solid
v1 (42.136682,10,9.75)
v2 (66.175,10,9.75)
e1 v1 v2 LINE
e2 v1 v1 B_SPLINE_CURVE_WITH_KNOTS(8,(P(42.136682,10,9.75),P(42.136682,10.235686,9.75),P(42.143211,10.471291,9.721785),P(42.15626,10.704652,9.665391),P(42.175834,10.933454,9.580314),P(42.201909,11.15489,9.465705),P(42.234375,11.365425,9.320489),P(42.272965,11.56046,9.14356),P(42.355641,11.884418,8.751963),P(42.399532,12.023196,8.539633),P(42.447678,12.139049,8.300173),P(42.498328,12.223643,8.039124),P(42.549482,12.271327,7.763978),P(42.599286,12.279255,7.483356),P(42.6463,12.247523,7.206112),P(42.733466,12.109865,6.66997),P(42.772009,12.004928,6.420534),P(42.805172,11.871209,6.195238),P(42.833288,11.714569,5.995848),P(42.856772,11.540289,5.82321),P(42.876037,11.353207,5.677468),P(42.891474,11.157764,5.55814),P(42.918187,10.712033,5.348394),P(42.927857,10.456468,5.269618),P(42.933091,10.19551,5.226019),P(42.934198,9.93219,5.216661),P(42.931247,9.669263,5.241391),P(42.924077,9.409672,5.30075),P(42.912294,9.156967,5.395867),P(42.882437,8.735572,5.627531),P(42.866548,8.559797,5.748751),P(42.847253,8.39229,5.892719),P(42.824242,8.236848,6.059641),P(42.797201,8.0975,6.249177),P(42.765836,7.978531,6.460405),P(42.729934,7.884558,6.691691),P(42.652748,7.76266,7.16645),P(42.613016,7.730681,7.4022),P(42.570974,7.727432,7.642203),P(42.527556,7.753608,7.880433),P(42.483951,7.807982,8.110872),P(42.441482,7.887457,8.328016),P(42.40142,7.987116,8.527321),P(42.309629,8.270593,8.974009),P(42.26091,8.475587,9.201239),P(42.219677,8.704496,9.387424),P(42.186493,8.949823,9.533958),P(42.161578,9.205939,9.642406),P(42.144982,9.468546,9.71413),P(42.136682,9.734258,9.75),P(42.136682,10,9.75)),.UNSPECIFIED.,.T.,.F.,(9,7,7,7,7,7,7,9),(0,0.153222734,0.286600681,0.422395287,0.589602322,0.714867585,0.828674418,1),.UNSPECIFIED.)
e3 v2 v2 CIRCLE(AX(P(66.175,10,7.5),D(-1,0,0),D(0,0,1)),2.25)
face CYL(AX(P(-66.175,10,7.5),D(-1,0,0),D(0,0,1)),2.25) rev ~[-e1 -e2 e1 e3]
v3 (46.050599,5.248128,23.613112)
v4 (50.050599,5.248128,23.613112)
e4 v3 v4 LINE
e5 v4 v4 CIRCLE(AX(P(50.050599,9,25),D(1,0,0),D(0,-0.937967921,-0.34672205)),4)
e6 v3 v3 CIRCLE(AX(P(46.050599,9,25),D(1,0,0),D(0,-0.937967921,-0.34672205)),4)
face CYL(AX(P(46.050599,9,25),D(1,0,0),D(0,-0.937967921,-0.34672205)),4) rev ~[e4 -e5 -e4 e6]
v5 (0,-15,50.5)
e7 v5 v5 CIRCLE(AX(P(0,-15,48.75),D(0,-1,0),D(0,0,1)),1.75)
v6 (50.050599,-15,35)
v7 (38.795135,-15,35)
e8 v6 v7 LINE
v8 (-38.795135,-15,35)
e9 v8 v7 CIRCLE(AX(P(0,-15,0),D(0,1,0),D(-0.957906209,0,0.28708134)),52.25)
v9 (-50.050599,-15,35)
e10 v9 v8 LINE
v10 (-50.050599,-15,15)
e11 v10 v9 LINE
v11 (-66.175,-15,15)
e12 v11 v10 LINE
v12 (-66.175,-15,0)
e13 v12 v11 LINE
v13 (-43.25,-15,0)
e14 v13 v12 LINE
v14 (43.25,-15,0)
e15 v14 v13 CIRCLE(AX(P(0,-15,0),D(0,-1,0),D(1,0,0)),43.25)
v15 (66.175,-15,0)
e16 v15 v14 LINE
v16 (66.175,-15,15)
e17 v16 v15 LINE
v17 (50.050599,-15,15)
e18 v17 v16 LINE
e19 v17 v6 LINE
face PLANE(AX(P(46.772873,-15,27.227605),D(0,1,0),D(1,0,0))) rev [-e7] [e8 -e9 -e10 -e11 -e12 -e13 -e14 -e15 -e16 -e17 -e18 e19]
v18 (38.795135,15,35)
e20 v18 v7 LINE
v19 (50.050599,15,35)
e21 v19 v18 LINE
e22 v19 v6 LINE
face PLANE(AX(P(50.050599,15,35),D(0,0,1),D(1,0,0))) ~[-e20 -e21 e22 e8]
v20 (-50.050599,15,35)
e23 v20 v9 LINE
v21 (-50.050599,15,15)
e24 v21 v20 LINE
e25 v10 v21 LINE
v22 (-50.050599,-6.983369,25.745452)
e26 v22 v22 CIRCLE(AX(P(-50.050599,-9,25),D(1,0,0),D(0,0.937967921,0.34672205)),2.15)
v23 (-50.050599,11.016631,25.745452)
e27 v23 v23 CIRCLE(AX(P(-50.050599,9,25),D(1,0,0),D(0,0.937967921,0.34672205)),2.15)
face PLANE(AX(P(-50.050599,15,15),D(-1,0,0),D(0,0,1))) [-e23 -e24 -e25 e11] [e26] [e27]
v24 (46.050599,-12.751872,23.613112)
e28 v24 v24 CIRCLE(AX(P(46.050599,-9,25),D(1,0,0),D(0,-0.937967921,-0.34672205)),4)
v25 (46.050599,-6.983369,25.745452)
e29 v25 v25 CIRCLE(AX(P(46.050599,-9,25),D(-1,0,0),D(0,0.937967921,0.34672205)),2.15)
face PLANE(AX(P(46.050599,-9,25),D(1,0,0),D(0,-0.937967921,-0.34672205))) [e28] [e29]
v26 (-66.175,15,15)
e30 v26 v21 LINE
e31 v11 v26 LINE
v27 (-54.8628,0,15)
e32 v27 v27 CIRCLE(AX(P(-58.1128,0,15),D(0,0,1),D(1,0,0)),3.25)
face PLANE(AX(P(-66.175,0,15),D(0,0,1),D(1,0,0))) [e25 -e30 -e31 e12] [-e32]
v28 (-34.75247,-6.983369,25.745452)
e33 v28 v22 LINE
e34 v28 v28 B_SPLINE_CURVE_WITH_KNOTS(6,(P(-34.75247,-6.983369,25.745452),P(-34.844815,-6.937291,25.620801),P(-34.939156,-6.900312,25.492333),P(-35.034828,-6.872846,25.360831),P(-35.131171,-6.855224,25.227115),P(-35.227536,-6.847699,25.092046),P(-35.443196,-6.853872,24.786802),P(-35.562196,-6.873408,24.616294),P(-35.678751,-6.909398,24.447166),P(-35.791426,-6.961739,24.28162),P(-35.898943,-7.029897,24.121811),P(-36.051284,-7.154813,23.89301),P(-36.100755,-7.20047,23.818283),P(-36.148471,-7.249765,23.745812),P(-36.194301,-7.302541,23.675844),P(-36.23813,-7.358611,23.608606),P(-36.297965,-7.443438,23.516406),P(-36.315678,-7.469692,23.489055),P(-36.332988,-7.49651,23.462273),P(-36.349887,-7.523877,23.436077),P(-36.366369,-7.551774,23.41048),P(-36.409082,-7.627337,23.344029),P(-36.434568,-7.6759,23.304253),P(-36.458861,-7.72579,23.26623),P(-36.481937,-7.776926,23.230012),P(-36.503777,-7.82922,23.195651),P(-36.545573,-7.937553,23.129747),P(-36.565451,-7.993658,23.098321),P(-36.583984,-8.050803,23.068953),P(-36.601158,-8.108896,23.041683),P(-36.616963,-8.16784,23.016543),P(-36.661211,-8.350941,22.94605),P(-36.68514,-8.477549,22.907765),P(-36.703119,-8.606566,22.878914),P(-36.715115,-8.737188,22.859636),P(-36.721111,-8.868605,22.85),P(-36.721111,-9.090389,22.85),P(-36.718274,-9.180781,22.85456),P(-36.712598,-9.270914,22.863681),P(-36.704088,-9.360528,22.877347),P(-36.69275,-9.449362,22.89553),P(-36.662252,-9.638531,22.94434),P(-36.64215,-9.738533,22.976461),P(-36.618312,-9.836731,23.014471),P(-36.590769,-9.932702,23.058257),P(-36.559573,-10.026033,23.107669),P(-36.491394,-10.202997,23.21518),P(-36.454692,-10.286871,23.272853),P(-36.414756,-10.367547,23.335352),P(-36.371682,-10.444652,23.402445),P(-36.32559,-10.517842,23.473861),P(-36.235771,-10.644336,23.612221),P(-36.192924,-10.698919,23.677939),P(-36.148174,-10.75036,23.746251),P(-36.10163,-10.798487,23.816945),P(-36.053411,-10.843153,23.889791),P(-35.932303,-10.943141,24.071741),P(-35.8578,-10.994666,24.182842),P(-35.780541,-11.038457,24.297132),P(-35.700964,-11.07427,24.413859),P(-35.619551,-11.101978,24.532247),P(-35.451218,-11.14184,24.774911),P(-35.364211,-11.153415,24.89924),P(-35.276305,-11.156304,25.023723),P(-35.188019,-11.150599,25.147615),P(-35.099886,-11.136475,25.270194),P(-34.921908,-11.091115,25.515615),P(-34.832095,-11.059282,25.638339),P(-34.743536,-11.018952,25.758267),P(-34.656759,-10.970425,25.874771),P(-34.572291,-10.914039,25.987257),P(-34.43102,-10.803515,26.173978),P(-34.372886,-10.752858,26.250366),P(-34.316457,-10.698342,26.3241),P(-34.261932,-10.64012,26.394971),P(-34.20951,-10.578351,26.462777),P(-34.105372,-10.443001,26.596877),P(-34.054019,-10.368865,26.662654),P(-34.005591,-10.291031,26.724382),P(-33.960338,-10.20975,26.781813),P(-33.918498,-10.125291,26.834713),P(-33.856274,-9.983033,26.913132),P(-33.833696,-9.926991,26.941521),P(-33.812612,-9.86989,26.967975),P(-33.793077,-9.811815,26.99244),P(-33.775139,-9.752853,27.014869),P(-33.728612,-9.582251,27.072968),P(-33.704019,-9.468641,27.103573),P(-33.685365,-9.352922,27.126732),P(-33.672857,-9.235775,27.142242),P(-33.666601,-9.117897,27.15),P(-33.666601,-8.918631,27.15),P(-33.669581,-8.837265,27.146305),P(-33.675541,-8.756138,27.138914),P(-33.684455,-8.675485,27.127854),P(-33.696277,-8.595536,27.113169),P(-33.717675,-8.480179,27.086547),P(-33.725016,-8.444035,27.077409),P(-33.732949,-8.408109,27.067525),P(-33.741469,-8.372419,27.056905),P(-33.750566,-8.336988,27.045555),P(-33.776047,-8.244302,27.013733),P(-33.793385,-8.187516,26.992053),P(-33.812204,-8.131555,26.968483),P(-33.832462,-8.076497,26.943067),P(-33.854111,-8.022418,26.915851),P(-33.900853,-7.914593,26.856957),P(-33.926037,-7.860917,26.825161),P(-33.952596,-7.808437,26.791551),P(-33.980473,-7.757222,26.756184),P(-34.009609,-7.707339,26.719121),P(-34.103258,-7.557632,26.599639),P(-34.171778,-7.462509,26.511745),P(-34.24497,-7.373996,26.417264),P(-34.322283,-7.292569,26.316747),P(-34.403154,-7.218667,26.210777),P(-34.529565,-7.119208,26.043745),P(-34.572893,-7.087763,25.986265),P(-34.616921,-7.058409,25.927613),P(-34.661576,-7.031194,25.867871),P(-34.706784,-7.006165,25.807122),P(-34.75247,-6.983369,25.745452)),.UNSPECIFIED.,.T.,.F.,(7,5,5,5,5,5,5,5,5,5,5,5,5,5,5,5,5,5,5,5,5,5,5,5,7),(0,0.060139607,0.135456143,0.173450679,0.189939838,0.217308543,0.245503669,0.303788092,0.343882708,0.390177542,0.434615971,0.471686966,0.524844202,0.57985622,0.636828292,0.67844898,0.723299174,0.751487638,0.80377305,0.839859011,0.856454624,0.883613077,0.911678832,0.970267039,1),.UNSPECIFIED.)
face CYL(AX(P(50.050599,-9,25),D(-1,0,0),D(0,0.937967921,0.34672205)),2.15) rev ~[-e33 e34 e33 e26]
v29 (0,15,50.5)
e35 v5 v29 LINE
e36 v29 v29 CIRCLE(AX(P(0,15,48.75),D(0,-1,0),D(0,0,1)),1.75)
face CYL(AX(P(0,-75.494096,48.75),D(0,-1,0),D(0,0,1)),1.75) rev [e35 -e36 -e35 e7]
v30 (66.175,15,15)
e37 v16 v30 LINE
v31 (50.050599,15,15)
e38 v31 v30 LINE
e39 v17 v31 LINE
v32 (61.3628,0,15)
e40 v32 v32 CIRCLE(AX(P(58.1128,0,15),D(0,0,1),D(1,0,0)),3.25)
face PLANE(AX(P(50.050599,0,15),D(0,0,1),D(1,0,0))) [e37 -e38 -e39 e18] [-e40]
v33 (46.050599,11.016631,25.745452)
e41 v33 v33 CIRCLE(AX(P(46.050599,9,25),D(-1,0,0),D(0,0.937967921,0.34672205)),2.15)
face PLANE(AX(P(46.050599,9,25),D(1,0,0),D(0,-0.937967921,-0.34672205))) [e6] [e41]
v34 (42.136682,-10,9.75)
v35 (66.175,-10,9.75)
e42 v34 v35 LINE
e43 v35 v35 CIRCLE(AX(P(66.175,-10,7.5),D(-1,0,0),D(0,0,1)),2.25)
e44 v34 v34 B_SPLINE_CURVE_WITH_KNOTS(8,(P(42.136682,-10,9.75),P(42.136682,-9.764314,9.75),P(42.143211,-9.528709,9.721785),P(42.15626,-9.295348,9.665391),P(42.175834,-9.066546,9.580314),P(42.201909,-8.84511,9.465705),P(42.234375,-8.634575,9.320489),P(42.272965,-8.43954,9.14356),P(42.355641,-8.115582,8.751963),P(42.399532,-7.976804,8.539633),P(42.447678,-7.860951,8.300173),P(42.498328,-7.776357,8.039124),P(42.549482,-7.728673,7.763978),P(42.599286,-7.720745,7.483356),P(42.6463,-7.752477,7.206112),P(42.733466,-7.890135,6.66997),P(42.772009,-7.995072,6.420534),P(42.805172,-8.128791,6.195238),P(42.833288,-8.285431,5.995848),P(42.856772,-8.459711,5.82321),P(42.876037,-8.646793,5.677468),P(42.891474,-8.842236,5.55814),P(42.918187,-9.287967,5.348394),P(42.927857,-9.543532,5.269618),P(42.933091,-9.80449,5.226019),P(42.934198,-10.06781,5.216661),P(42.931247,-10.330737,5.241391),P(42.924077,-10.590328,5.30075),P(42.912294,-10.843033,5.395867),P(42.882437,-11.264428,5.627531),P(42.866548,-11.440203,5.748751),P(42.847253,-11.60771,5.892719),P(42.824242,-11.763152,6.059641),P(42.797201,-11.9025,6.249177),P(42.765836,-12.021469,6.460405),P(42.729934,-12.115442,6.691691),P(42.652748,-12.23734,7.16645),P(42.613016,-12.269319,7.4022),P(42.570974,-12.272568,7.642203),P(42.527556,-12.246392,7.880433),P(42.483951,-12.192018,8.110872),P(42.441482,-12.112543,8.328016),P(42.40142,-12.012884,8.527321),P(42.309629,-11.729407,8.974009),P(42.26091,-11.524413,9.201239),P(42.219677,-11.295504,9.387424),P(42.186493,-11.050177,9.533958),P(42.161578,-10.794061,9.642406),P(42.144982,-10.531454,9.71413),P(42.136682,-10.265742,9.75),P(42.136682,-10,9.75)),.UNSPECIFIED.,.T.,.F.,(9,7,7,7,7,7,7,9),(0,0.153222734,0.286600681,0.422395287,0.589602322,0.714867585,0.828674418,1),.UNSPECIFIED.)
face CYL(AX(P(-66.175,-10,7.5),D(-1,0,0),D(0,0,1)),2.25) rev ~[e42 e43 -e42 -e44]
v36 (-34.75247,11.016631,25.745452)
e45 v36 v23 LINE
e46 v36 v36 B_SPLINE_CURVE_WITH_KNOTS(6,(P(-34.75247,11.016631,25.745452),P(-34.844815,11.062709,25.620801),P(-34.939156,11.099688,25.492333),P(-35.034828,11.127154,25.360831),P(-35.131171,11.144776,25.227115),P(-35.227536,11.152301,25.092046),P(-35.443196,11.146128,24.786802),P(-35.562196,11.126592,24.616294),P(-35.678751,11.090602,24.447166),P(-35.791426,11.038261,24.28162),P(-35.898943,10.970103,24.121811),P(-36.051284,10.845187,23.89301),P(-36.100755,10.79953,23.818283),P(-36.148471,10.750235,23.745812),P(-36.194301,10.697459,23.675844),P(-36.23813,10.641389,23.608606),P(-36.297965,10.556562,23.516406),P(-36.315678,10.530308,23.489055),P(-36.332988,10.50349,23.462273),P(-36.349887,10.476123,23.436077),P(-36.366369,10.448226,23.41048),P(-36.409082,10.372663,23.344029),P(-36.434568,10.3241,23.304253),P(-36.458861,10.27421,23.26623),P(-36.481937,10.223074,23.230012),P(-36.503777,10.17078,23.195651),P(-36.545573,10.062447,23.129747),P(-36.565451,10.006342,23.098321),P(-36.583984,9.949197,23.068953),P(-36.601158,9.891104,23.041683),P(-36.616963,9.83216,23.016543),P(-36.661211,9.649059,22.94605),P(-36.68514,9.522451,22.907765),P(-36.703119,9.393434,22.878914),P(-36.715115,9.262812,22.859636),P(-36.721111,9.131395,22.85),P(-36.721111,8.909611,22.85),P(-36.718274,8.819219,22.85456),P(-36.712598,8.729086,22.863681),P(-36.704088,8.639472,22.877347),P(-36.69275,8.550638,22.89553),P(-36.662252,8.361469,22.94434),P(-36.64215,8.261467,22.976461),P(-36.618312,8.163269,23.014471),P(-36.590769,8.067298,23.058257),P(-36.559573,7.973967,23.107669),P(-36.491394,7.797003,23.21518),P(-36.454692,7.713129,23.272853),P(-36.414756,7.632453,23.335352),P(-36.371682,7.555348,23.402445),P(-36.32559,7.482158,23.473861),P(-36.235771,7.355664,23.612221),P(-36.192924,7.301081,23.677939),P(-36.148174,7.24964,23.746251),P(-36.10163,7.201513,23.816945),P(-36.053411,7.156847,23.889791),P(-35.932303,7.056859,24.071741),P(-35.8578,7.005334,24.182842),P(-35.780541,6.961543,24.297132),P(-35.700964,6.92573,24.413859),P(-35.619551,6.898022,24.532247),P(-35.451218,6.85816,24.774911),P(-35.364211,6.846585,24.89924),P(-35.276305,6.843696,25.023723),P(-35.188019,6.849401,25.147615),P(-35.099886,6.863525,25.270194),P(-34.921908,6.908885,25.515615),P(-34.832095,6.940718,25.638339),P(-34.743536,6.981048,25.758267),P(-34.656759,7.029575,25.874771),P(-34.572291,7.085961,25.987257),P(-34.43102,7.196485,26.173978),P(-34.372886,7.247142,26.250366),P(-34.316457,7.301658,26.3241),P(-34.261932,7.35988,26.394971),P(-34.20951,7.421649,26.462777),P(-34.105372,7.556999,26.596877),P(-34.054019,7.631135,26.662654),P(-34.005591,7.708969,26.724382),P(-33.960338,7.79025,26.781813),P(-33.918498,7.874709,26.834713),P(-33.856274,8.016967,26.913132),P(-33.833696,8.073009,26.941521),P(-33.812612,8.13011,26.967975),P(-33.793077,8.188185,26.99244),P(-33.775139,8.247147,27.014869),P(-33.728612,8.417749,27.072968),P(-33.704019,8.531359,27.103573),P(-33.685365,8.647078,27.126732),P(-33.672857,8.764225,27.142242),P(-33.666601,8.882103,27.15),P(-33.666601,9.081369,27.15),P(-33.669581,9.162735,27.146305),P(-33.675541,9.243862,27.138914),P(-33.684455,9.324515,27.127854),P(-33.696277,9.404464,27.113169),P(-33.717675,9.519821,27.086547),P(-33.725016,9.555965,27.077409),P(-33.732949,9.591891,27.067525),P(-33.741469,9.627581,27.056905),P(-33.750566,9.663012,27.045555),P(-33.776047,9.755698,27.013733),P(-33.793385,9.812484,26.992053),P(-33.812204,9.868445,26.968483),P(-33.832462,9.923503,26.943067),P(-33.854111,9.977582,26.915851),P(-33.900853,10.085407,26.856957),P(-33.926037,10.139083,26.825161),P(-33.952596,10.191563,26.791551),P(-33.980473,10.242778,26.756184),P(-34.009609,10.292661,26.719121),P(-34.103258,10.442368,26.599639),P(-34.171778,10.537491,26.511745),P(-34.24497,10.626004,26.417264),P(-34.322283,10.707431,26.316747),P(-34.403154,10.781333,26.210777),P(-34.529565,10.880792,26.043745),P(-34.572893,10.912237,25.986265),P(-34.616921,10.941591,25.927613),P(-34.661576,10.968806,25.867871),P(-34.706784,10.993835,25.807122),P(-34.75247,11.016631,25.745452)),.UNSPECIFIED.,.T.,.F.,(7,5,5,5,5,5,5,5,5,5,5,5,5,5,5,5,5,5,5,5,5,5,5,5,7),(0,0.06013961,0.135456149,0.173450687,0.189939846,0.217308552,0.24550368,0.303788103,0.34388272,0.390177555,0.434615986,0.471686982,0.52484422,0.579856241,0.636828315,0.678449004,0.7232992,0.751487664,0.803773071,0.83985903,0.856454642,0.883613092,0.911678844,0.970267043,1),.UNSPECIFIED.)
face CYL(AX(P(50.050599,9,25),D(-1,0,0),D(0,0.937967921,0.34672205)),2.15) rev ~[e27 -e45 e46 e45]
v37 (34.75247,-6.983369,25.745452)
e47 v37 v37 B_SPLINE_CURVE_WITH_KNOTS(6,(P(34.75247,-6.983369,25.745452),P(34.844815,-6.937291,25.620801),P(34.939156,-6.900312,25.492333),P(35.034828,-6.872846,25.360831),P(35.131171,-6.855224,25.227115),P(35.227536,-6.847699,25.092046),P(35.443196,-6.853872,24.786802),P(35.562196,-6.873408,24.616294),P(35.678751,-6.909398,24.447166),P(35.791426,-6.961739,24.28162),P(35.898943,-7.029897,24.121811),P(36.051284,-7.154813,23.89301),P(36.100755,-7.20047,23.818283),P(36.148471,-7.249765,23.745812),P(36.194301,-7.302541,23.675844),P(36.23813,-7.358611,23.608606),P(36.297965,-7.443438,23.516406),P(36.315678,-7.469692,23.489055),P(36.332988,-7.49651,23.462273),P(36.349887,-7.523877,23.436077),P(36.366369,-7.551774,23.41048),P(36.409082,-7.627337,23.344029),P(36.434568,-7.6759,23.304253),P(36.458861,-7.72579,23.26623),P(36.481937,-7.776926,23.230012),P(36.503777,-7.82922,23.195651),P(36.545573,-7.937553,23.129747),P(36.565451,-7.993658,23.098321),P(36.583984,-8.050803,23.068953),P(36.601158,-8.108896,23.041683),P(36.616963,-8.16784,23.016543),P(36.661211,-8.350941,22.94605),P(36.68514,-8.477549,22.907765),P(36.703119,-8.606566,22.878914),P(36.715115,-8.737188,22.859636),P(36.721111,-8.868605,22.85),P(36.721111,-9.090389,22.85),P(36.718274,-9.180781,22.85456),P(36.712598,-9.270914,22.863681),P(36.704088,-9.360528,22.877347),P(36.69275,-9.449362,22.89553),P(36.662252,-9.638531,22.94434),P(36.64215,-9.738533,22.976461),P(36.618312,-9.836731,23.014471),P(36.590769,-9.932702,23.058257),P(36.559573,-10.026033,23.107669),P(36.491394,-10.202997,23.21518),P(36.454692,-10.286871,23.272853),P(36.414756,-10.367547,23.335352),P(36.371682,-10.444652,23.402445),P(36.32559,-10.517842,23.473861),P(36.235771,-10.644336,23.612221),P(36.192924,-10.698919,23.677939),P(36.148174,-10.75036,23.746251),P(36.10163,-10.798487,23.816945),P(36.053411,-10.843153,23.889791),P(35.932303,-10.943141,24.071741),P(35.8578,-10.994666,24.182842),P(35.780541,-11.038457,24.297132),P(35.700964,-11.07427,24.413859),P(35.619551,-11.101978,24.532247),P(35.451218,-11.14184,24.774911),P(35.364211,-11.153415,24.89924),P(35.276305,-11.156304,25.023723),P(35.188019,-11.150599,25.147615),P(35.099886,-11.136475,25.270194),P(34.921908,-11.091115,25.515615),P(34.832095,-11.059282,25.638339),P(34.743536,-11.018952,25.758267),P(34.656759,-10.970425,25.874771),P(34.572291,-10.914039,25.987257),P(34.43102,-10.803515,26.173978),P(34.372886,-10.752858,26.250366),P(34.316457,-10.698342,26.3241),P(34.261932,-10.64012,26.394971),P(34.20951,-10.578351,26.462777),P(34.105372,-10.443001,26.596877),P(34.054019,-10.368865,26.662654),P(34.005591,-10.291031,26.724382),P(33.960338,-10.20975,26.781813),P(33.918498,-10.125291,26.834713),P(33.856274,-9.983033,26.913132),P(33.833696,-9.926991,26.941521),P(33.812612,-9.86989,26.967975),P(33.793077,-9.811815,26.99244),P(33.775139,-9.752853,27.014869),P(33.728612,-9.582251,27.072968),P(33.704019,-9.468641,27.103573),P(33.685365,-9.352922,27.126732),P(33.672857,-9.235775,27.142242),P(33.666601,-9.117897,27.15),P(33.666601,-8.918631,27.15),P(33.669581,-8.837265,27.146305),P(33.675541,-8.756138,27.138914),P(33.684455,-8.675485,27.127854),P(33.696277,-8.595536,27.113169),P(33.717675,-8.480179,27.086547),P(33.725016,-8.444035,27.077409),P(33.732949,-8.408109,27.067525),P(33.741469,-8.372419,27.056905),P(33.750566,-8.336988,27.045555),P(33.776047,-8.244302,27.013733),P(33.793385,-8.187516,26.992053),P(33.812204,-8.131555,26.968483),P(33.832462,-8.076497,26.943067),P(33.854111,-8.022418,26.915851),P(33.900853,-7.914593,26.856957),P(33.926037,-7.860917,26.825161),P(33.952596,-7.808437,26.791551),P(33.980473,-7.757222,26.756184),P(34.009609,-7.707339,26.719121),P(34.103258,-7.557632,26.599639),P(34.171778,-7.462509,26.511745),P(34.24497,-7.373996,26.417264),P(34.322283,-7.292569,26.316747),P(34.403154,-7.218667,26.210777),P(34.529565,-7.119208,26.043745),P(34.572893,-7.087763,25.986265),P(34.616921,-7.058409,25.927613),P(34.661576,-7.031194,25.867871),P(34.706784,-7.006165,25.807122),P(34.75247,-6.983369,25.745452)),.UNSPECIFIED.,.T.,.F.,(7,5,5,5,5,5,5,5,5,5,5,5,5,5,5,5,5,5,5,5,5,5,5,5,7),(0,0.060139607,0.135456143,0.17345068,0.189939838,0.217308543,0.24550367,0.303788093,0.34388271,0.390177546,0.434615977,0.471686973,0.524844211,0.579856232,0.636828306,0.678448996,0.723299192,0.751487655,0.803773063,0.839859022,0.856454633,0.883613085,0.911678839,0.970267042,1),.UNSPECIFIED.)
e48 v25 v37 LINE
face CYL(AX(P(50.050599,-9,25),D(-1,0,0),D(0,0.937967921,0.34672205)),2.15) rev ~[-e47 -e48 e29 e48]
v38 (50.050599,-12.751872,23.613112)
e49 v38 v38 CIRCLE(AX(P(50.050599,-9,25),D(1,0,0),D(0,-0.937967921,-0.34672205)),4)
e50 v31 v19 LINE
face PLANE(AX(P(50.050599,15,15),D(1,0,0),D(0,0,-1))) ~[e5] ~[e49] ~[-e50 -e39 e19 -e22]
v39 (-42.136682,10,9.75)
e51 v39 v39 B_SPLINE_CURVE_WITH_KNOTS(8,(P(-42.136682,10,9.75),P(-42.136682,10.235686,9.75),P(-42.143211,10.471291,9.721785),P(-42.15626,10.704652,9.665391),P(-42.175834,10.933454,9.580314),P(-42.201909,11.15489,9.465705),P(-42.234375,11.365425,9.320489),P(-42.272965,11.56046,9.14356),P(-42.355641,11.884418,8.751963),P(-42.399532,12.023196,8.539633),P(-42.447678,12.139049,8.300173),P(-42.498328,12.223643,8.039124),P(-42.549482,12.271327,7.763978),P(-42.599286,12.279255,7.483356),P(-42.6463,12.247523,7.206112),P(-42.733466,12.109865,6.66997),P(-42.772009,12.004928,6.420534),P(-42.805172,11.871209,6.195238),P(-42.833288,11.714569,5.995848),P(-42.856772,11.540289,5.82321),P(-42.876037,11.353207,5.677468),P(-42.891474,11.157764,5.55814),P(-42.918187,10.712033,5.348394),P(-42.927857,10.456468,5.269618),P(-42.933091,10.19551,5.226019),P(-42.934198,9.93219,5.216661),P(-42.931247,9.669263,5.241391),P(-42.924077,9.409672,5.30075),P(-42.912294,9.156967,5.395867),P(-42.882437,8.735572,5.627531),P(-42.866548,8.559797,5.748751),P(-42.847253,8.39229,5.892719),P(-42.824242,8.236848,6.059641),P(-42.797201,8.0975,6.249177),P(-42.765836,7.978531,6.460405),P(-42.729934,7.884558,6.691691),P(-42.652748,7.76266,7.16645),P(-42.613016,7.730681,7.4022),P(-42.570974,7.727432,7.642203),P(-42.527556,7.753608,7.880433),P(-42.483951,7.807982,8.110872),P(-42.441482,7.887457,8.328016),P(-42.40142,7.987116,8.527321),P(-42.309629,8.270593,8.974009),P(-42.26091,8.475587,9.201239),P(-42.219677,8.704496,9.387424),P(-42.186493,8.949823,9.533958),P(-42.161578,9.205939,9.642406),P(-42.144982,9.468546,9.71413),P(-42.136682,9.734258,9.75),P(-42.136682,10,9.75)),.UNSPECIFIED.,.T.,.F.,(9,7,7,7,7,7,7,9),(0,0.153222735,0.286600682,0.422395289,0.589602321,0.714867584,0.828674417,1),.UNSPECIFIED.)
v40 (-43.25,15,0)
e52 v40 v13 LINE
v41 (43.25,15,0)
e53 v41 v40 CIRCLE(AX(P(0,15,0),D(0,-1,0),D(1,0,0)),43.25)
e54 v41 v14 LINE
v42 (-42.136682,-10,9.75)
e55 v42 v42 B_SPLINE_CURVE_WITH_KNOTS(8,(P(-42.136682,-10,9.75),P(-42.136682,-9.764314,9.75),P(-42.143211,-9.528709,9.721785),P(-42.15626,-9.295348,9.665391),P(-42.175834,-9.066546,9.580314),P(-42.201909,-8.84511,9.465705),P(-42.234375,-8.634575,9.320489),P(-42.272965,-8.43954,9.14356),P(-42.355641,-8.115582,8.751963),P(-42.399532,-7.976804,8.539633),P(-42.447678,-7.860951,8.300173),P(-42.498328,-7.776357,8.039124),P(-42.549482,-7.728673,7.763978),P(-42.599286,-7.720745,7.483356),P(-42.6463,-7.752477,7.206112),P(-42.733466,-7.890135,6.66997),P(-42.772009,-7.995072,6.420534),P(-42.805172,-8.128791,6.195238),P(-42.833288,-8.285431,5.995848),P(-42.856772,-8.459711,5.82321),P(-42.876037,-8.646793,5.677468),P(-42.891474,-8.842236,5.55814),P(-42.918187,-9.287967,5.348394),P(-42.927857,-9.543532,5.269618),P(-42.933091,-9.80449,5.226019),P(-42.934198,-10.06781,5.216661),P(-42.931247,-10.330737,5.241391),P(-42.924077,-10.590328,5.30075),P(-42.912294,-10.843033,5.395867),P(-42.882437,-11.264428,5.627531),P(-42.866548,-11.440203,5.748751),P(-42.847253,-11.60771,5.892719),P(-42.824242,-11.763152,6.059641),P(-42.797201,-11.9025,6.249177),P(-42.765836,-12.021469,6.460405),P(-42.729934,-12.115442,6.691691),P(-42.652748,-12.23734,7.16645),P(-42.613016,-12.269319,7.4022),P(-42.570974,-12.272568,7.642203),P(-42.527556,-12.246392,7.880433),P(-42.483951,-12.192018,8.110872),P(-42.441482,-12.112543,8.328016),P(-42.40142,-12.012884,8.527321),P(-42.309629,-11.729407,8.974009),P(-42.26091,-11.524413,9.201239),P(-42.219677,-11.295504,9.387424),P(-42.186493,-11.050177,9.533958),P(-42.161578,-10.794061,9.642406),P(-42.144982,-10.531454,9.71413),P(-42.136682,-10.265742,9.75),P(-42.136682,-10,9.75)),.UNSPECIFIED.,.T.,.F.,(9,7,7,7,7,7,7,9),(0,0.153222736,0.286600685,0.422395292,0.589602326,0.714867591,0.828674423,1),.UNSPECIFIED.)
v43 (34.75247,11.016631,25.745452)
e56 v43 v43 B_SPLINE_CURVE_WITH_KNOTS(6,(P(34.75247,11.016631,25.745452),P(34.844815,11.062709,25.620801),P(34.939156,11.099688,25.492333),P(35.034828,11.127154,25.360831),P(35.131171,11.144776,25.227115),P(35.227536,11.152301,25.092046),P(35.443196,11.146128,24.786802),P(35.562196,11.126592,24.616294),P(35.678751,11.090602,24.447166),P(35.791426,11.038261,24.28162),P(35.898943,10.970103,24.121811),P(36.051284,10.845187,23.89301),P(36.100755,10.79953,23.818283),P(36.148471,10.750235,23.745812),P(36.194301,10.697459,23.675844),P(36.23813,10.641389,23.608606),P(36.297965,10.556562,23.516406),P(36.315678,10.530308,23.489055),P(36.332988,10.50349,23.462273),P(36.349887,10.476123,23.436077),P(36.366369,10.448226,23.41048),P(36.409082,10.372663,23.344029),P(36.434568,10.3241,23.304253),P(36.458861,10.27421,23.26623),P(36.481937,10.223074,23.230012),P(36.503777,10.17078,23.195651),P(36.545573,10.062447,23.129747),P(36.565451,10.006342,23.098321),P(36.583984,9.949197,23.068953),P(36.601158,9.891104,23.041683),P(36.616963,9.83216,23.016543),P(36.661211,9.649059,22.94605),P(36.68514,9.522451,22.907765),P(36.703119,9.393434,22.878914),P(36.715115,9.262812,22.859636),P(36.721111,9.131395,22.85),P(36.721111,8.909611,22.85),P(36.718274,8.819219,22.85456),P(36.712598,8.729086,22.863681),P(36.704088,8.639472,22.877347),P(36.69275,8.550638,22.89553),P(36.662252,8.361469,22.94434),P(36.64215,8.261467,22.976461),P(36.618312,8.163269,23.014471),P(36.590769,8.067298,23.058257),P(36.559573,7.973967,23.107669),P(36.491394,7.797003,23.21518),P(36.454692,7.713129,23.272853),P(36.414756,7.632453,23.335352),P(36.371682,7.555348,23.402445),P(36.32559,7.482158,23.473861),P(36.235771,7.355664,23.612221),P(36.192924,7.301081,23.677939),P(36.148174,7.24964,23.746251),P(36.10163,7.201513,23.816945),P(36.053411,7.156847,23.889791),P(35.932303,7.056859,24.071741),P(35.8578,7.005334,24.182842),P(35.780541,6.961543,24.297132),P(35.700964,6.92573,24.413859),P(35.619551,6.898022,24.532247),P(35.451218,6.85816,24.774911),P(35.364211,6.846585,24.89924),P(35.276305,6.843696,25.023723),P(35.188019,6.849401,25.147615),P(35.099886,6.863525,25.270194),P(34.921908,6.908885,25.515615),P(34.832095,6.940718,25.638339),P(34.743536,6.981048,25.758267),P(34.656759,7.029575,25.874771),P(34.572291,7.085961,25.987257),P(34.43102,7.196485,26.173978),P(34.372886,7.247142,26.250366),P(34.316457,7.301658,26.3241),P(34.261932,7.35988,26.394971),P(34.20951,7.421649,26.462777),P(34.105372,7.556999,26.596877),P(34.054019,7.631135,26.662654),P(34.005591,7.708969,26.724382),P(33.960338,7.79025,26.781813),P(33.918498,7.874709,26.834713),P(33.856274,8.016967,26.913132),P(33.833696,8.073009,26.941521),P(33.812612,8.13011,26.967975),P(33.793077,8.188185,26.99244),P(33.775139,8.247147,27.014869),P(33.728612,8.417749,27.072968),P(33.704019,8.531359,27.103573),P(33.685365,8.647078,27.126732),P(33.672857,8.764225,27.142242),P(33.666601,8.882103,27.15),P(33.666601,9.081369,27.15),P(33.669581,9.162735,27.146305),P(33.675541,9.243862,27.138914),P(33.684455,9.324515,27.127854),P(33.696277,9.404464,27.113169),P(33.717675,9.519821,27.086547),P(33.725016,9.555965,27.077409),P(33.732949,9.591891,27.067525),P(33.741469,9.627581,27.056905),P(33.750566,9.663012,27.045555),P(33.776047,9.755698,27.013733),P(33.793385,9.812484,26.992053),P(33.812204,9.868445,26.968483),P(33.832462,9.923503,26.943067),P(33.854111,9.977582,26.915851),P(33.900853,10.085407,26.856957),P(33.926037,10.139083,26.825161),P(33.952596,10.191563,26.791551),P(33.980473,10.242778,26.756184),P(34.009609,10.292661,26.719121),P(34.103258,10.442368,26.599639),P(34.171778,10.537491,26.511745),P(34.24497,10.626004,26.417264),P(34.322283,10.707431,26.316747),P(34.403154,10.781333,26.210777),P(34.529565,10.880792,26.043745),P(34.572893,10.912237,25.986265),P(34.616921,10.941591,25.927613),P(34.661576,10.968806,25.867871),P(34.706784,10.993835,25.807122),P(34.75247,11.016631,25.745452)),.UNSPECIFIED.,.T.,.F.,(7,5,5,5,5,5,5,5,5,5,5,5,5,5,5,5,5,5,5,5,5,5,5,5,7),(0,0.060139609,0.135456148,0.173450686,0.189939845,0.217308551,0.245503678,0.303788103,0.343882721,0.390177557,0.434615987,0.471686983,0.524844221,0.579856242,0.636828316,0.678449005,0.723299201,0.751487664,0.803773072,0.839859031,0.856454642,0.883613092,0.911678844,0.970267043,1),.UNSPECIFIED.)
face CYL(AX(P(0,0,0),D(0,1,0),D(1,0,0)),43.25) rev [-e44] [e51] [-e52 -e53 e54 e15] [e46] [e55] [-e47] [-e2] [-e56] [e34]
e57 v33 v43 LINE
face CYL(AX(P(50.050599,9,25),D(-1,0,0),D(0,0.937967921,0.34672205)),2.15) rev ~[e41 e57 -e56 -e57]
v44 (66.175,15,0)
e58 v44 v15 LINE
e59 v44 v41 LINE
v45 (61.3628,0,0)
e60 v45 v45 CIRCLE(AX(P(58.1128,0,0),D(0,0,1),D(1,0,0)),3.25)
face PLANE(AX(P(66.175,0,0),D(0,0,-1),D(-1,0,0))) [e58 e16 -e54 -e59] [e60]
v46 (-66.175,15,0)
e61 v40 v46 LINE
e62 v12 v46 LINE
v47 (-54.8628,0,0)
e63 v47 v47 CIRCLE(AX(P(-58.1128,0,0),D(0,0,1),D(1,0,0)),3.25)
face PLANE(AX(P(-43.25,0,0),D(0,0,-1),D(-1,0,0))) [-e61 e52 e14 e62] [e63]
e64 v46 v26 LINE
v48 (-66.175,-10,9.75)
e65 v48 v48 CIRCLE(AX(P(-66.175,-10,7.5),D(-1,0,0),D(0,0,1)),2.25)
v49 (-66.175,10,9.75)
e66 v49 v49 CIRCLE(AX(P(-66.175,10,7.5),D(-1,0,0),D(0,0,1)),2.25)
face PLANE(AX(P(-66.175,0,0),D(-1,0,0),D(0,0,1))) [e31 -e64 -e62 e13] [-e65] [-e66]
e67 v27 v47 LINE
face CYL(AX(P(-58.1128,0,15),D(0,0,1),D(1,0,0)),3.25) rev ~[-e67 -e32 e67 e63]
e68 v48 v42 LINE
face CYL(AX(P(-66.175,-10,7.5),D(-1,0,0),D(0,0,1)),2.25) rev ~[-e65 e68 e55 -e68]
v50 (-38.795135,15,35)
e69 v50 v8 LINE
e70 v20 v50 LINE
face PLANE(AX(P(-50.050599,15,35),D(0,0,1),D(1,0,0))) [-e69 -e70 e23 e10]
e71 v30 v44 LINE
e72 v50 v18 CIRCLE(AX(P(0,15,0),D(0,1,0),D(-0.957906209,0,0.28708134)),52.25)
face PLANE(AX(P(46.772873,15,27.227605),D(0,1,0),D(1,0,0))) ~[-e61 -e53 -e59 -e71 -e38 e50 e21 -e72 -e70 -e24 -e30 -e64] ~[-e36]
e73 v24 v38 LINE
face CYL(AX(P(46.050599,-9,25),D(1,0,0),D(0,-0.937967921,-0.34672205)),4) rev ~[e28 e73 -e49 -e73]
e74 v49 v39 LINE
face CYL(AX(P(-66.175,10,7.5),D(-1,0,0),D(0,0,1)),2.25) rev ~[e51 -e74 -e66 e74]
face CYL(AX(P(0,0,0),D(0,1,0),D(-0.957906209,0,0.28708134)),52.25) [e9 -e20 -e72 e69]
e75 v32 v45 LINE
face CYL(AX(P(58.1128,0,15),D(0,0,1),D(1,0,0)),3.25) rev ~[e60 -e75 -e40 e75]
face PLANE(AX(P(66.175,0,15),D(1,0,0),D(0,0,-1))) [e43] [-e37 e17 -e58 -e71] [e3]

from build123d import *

# Parameters (mm, degrees)
BOSS_EXTRUDE1_DEPTH            = 15
SKETCH2_R                      = 3.25
CUT_EXTRUDE1_DEPTH             = 78.406027705
SKETCH3_R                      = 2.25
CUT_EXTRUDE2_DEPTH             = 144.078946739
CUT_EXTRUDE3_DEPTH             = 90.494095583
CUT_EXTRUDE3_DEPTH_BACK        = 90.494095583
SKETCH4_R                      = 1.75
BOSS_EXTRUDE2_DEPTH            = 30
CBORE_FOR_M4_SHCS1_D           = 4.3
CBORE_FOR_M4_SHCS1_DEPTH       = 100.101198794
CBORE_FOR_M4_SHCS1_CBORE_D     = 8
CBORE_FOR_M4_SHCS1_CBORE_DEPTH = 4
CBORE_FOR_M4_SHCS1_TIP         = 1.291850331


with BuildPart() as part:
    # Sketch1 → Boss-Extrude1 (new, symmetric)
    with BuildSketch(Plane(origin=(0, 0, 0), x_dir=(1, 0, 0), z_dir=(0, 1, 0))):
        with BuildLine():
            Line((-43.25, 0), (-66.175, 0))
            Line((-66.175, 0), (-66.175, -15))
            Line((-66.175, -15), (-50.050599397, -15))
            ThreePointArc((-50.050599397, -15), (0, -52.25), (50.050599397, -15))
            Line((50.050599397, -15), (66.175, -15))
            Line((66.175, -15), (66.175, 0))
            Line((66.175, 0), (43.25, 0))
            ThreePointArc((43.25, 0), (0, -43.25), (-43.25, 0))
        make_face()
    extrude(amount=BOSS_EXTRUDE1_DEPTH, both=True)

    # Sketch2 → Cut-Extrude1 (cut, through all)
    with BuildSketch(Plane.XY.offset(15)):
        with Locations((-58.112799699, 0)):
            Circle(SKETCH2_R)
        with Locations((58.112799699, 0)):
            Circle(SKETCH2_R)
    extrude(amount=-CUT_EXTRUDE1_DEPTH, mode=Mode.SUBTRACT)

    # Sketch3 → Cut-Extrude2 (cut, through all)
    with BuildSketch(Plane.ZY.offset(66.175)):
        with Locations((7.5, -10)):
            Circle(SKETCH3_R)
        with Locations((7.5, 10)):
            Circle(SKETCH3_R)
    extrude(amount=-CUT_EXTRUDE2_DEPTH, mode=Mode.SUBTRACT)

    # Sketch4 → Cut-Extrude3 (cut, two sides: drawn at the far end of the back side and taken through both)
    with BuildSketch(Plane(origin=(0, 15, 0), x_dir=(1, 0, 0), z_dir=(0, 1, 0)).offset(-CUT_EXTRUDE3_DEPTH_BACK)):
        with Locations(Location((0, -48.75, 0), (0, 0, 270))):
            Circle(SKETCH4_R)
    extrude(amount=CUT_EXTRUDE3_DEPTH + CUT_EXTRUDE3_DEPTH_BACK, mode=Mode.SUBTRACT)

    # Sketch5 → Boss-Extrude2 (add)
    with BuildSketch(Plane(origin=(0, 15, 0), x_dir=(1, 0, 0), z_dir=(0, 1, 0))):
        with BuildLine():
            Line((-50.050599397, -15), (-50.050599397, -35))
            Line((-50.050599397, -35), (-38.795135004, -35))
            ThreePointArc((-38.795135004, -35), (-45.534504832, -25.625599889), (-50.050599397, -15))
        make_face()
    boss_extrude2 = extrude(amount=-BOSS_EXTRUDE2_DEPTH)

    # Mirror1: Boss-Extrude2 across plane
    add(boss_extrude2.mirror(Plane.ZY))

    # CBORE for M4 SHCS1
    with Locations(Plane(origin=(50.050599397, 54.222001278, 632.558854999), x_dir=(0, -0.9379679207103062, -0.3467220496570483), z_dir=(1, 0, 0))):
        with Locations((253.070838002, 554.191250959), (269.954260575, 547.950254066)):
            CounterBoreHole(CBORE_FOR_M4_SHCS1_D / 2, CBORE_FOR_M4_SHCS1_CBORE_D / 2, CBORE_FOR_M4_SHCS1_CBORE_DEPTH, depth=CBORE_FOR_M4_SHCS1_DEPTH)
            with Locations((0, 0, -(CBORE_FOR_M4_SHCS1_DEPTH + CBORE_FOR_M4_SHCS1_TIP / 2))):  # 118° drill point
                Cone(0, CBORE_FOR_M4_SHCS1_D / 2, CBORE_FOR_M4_SHCS1_TIP, mode=Mode.SUBTRACT)


solid = part.part
